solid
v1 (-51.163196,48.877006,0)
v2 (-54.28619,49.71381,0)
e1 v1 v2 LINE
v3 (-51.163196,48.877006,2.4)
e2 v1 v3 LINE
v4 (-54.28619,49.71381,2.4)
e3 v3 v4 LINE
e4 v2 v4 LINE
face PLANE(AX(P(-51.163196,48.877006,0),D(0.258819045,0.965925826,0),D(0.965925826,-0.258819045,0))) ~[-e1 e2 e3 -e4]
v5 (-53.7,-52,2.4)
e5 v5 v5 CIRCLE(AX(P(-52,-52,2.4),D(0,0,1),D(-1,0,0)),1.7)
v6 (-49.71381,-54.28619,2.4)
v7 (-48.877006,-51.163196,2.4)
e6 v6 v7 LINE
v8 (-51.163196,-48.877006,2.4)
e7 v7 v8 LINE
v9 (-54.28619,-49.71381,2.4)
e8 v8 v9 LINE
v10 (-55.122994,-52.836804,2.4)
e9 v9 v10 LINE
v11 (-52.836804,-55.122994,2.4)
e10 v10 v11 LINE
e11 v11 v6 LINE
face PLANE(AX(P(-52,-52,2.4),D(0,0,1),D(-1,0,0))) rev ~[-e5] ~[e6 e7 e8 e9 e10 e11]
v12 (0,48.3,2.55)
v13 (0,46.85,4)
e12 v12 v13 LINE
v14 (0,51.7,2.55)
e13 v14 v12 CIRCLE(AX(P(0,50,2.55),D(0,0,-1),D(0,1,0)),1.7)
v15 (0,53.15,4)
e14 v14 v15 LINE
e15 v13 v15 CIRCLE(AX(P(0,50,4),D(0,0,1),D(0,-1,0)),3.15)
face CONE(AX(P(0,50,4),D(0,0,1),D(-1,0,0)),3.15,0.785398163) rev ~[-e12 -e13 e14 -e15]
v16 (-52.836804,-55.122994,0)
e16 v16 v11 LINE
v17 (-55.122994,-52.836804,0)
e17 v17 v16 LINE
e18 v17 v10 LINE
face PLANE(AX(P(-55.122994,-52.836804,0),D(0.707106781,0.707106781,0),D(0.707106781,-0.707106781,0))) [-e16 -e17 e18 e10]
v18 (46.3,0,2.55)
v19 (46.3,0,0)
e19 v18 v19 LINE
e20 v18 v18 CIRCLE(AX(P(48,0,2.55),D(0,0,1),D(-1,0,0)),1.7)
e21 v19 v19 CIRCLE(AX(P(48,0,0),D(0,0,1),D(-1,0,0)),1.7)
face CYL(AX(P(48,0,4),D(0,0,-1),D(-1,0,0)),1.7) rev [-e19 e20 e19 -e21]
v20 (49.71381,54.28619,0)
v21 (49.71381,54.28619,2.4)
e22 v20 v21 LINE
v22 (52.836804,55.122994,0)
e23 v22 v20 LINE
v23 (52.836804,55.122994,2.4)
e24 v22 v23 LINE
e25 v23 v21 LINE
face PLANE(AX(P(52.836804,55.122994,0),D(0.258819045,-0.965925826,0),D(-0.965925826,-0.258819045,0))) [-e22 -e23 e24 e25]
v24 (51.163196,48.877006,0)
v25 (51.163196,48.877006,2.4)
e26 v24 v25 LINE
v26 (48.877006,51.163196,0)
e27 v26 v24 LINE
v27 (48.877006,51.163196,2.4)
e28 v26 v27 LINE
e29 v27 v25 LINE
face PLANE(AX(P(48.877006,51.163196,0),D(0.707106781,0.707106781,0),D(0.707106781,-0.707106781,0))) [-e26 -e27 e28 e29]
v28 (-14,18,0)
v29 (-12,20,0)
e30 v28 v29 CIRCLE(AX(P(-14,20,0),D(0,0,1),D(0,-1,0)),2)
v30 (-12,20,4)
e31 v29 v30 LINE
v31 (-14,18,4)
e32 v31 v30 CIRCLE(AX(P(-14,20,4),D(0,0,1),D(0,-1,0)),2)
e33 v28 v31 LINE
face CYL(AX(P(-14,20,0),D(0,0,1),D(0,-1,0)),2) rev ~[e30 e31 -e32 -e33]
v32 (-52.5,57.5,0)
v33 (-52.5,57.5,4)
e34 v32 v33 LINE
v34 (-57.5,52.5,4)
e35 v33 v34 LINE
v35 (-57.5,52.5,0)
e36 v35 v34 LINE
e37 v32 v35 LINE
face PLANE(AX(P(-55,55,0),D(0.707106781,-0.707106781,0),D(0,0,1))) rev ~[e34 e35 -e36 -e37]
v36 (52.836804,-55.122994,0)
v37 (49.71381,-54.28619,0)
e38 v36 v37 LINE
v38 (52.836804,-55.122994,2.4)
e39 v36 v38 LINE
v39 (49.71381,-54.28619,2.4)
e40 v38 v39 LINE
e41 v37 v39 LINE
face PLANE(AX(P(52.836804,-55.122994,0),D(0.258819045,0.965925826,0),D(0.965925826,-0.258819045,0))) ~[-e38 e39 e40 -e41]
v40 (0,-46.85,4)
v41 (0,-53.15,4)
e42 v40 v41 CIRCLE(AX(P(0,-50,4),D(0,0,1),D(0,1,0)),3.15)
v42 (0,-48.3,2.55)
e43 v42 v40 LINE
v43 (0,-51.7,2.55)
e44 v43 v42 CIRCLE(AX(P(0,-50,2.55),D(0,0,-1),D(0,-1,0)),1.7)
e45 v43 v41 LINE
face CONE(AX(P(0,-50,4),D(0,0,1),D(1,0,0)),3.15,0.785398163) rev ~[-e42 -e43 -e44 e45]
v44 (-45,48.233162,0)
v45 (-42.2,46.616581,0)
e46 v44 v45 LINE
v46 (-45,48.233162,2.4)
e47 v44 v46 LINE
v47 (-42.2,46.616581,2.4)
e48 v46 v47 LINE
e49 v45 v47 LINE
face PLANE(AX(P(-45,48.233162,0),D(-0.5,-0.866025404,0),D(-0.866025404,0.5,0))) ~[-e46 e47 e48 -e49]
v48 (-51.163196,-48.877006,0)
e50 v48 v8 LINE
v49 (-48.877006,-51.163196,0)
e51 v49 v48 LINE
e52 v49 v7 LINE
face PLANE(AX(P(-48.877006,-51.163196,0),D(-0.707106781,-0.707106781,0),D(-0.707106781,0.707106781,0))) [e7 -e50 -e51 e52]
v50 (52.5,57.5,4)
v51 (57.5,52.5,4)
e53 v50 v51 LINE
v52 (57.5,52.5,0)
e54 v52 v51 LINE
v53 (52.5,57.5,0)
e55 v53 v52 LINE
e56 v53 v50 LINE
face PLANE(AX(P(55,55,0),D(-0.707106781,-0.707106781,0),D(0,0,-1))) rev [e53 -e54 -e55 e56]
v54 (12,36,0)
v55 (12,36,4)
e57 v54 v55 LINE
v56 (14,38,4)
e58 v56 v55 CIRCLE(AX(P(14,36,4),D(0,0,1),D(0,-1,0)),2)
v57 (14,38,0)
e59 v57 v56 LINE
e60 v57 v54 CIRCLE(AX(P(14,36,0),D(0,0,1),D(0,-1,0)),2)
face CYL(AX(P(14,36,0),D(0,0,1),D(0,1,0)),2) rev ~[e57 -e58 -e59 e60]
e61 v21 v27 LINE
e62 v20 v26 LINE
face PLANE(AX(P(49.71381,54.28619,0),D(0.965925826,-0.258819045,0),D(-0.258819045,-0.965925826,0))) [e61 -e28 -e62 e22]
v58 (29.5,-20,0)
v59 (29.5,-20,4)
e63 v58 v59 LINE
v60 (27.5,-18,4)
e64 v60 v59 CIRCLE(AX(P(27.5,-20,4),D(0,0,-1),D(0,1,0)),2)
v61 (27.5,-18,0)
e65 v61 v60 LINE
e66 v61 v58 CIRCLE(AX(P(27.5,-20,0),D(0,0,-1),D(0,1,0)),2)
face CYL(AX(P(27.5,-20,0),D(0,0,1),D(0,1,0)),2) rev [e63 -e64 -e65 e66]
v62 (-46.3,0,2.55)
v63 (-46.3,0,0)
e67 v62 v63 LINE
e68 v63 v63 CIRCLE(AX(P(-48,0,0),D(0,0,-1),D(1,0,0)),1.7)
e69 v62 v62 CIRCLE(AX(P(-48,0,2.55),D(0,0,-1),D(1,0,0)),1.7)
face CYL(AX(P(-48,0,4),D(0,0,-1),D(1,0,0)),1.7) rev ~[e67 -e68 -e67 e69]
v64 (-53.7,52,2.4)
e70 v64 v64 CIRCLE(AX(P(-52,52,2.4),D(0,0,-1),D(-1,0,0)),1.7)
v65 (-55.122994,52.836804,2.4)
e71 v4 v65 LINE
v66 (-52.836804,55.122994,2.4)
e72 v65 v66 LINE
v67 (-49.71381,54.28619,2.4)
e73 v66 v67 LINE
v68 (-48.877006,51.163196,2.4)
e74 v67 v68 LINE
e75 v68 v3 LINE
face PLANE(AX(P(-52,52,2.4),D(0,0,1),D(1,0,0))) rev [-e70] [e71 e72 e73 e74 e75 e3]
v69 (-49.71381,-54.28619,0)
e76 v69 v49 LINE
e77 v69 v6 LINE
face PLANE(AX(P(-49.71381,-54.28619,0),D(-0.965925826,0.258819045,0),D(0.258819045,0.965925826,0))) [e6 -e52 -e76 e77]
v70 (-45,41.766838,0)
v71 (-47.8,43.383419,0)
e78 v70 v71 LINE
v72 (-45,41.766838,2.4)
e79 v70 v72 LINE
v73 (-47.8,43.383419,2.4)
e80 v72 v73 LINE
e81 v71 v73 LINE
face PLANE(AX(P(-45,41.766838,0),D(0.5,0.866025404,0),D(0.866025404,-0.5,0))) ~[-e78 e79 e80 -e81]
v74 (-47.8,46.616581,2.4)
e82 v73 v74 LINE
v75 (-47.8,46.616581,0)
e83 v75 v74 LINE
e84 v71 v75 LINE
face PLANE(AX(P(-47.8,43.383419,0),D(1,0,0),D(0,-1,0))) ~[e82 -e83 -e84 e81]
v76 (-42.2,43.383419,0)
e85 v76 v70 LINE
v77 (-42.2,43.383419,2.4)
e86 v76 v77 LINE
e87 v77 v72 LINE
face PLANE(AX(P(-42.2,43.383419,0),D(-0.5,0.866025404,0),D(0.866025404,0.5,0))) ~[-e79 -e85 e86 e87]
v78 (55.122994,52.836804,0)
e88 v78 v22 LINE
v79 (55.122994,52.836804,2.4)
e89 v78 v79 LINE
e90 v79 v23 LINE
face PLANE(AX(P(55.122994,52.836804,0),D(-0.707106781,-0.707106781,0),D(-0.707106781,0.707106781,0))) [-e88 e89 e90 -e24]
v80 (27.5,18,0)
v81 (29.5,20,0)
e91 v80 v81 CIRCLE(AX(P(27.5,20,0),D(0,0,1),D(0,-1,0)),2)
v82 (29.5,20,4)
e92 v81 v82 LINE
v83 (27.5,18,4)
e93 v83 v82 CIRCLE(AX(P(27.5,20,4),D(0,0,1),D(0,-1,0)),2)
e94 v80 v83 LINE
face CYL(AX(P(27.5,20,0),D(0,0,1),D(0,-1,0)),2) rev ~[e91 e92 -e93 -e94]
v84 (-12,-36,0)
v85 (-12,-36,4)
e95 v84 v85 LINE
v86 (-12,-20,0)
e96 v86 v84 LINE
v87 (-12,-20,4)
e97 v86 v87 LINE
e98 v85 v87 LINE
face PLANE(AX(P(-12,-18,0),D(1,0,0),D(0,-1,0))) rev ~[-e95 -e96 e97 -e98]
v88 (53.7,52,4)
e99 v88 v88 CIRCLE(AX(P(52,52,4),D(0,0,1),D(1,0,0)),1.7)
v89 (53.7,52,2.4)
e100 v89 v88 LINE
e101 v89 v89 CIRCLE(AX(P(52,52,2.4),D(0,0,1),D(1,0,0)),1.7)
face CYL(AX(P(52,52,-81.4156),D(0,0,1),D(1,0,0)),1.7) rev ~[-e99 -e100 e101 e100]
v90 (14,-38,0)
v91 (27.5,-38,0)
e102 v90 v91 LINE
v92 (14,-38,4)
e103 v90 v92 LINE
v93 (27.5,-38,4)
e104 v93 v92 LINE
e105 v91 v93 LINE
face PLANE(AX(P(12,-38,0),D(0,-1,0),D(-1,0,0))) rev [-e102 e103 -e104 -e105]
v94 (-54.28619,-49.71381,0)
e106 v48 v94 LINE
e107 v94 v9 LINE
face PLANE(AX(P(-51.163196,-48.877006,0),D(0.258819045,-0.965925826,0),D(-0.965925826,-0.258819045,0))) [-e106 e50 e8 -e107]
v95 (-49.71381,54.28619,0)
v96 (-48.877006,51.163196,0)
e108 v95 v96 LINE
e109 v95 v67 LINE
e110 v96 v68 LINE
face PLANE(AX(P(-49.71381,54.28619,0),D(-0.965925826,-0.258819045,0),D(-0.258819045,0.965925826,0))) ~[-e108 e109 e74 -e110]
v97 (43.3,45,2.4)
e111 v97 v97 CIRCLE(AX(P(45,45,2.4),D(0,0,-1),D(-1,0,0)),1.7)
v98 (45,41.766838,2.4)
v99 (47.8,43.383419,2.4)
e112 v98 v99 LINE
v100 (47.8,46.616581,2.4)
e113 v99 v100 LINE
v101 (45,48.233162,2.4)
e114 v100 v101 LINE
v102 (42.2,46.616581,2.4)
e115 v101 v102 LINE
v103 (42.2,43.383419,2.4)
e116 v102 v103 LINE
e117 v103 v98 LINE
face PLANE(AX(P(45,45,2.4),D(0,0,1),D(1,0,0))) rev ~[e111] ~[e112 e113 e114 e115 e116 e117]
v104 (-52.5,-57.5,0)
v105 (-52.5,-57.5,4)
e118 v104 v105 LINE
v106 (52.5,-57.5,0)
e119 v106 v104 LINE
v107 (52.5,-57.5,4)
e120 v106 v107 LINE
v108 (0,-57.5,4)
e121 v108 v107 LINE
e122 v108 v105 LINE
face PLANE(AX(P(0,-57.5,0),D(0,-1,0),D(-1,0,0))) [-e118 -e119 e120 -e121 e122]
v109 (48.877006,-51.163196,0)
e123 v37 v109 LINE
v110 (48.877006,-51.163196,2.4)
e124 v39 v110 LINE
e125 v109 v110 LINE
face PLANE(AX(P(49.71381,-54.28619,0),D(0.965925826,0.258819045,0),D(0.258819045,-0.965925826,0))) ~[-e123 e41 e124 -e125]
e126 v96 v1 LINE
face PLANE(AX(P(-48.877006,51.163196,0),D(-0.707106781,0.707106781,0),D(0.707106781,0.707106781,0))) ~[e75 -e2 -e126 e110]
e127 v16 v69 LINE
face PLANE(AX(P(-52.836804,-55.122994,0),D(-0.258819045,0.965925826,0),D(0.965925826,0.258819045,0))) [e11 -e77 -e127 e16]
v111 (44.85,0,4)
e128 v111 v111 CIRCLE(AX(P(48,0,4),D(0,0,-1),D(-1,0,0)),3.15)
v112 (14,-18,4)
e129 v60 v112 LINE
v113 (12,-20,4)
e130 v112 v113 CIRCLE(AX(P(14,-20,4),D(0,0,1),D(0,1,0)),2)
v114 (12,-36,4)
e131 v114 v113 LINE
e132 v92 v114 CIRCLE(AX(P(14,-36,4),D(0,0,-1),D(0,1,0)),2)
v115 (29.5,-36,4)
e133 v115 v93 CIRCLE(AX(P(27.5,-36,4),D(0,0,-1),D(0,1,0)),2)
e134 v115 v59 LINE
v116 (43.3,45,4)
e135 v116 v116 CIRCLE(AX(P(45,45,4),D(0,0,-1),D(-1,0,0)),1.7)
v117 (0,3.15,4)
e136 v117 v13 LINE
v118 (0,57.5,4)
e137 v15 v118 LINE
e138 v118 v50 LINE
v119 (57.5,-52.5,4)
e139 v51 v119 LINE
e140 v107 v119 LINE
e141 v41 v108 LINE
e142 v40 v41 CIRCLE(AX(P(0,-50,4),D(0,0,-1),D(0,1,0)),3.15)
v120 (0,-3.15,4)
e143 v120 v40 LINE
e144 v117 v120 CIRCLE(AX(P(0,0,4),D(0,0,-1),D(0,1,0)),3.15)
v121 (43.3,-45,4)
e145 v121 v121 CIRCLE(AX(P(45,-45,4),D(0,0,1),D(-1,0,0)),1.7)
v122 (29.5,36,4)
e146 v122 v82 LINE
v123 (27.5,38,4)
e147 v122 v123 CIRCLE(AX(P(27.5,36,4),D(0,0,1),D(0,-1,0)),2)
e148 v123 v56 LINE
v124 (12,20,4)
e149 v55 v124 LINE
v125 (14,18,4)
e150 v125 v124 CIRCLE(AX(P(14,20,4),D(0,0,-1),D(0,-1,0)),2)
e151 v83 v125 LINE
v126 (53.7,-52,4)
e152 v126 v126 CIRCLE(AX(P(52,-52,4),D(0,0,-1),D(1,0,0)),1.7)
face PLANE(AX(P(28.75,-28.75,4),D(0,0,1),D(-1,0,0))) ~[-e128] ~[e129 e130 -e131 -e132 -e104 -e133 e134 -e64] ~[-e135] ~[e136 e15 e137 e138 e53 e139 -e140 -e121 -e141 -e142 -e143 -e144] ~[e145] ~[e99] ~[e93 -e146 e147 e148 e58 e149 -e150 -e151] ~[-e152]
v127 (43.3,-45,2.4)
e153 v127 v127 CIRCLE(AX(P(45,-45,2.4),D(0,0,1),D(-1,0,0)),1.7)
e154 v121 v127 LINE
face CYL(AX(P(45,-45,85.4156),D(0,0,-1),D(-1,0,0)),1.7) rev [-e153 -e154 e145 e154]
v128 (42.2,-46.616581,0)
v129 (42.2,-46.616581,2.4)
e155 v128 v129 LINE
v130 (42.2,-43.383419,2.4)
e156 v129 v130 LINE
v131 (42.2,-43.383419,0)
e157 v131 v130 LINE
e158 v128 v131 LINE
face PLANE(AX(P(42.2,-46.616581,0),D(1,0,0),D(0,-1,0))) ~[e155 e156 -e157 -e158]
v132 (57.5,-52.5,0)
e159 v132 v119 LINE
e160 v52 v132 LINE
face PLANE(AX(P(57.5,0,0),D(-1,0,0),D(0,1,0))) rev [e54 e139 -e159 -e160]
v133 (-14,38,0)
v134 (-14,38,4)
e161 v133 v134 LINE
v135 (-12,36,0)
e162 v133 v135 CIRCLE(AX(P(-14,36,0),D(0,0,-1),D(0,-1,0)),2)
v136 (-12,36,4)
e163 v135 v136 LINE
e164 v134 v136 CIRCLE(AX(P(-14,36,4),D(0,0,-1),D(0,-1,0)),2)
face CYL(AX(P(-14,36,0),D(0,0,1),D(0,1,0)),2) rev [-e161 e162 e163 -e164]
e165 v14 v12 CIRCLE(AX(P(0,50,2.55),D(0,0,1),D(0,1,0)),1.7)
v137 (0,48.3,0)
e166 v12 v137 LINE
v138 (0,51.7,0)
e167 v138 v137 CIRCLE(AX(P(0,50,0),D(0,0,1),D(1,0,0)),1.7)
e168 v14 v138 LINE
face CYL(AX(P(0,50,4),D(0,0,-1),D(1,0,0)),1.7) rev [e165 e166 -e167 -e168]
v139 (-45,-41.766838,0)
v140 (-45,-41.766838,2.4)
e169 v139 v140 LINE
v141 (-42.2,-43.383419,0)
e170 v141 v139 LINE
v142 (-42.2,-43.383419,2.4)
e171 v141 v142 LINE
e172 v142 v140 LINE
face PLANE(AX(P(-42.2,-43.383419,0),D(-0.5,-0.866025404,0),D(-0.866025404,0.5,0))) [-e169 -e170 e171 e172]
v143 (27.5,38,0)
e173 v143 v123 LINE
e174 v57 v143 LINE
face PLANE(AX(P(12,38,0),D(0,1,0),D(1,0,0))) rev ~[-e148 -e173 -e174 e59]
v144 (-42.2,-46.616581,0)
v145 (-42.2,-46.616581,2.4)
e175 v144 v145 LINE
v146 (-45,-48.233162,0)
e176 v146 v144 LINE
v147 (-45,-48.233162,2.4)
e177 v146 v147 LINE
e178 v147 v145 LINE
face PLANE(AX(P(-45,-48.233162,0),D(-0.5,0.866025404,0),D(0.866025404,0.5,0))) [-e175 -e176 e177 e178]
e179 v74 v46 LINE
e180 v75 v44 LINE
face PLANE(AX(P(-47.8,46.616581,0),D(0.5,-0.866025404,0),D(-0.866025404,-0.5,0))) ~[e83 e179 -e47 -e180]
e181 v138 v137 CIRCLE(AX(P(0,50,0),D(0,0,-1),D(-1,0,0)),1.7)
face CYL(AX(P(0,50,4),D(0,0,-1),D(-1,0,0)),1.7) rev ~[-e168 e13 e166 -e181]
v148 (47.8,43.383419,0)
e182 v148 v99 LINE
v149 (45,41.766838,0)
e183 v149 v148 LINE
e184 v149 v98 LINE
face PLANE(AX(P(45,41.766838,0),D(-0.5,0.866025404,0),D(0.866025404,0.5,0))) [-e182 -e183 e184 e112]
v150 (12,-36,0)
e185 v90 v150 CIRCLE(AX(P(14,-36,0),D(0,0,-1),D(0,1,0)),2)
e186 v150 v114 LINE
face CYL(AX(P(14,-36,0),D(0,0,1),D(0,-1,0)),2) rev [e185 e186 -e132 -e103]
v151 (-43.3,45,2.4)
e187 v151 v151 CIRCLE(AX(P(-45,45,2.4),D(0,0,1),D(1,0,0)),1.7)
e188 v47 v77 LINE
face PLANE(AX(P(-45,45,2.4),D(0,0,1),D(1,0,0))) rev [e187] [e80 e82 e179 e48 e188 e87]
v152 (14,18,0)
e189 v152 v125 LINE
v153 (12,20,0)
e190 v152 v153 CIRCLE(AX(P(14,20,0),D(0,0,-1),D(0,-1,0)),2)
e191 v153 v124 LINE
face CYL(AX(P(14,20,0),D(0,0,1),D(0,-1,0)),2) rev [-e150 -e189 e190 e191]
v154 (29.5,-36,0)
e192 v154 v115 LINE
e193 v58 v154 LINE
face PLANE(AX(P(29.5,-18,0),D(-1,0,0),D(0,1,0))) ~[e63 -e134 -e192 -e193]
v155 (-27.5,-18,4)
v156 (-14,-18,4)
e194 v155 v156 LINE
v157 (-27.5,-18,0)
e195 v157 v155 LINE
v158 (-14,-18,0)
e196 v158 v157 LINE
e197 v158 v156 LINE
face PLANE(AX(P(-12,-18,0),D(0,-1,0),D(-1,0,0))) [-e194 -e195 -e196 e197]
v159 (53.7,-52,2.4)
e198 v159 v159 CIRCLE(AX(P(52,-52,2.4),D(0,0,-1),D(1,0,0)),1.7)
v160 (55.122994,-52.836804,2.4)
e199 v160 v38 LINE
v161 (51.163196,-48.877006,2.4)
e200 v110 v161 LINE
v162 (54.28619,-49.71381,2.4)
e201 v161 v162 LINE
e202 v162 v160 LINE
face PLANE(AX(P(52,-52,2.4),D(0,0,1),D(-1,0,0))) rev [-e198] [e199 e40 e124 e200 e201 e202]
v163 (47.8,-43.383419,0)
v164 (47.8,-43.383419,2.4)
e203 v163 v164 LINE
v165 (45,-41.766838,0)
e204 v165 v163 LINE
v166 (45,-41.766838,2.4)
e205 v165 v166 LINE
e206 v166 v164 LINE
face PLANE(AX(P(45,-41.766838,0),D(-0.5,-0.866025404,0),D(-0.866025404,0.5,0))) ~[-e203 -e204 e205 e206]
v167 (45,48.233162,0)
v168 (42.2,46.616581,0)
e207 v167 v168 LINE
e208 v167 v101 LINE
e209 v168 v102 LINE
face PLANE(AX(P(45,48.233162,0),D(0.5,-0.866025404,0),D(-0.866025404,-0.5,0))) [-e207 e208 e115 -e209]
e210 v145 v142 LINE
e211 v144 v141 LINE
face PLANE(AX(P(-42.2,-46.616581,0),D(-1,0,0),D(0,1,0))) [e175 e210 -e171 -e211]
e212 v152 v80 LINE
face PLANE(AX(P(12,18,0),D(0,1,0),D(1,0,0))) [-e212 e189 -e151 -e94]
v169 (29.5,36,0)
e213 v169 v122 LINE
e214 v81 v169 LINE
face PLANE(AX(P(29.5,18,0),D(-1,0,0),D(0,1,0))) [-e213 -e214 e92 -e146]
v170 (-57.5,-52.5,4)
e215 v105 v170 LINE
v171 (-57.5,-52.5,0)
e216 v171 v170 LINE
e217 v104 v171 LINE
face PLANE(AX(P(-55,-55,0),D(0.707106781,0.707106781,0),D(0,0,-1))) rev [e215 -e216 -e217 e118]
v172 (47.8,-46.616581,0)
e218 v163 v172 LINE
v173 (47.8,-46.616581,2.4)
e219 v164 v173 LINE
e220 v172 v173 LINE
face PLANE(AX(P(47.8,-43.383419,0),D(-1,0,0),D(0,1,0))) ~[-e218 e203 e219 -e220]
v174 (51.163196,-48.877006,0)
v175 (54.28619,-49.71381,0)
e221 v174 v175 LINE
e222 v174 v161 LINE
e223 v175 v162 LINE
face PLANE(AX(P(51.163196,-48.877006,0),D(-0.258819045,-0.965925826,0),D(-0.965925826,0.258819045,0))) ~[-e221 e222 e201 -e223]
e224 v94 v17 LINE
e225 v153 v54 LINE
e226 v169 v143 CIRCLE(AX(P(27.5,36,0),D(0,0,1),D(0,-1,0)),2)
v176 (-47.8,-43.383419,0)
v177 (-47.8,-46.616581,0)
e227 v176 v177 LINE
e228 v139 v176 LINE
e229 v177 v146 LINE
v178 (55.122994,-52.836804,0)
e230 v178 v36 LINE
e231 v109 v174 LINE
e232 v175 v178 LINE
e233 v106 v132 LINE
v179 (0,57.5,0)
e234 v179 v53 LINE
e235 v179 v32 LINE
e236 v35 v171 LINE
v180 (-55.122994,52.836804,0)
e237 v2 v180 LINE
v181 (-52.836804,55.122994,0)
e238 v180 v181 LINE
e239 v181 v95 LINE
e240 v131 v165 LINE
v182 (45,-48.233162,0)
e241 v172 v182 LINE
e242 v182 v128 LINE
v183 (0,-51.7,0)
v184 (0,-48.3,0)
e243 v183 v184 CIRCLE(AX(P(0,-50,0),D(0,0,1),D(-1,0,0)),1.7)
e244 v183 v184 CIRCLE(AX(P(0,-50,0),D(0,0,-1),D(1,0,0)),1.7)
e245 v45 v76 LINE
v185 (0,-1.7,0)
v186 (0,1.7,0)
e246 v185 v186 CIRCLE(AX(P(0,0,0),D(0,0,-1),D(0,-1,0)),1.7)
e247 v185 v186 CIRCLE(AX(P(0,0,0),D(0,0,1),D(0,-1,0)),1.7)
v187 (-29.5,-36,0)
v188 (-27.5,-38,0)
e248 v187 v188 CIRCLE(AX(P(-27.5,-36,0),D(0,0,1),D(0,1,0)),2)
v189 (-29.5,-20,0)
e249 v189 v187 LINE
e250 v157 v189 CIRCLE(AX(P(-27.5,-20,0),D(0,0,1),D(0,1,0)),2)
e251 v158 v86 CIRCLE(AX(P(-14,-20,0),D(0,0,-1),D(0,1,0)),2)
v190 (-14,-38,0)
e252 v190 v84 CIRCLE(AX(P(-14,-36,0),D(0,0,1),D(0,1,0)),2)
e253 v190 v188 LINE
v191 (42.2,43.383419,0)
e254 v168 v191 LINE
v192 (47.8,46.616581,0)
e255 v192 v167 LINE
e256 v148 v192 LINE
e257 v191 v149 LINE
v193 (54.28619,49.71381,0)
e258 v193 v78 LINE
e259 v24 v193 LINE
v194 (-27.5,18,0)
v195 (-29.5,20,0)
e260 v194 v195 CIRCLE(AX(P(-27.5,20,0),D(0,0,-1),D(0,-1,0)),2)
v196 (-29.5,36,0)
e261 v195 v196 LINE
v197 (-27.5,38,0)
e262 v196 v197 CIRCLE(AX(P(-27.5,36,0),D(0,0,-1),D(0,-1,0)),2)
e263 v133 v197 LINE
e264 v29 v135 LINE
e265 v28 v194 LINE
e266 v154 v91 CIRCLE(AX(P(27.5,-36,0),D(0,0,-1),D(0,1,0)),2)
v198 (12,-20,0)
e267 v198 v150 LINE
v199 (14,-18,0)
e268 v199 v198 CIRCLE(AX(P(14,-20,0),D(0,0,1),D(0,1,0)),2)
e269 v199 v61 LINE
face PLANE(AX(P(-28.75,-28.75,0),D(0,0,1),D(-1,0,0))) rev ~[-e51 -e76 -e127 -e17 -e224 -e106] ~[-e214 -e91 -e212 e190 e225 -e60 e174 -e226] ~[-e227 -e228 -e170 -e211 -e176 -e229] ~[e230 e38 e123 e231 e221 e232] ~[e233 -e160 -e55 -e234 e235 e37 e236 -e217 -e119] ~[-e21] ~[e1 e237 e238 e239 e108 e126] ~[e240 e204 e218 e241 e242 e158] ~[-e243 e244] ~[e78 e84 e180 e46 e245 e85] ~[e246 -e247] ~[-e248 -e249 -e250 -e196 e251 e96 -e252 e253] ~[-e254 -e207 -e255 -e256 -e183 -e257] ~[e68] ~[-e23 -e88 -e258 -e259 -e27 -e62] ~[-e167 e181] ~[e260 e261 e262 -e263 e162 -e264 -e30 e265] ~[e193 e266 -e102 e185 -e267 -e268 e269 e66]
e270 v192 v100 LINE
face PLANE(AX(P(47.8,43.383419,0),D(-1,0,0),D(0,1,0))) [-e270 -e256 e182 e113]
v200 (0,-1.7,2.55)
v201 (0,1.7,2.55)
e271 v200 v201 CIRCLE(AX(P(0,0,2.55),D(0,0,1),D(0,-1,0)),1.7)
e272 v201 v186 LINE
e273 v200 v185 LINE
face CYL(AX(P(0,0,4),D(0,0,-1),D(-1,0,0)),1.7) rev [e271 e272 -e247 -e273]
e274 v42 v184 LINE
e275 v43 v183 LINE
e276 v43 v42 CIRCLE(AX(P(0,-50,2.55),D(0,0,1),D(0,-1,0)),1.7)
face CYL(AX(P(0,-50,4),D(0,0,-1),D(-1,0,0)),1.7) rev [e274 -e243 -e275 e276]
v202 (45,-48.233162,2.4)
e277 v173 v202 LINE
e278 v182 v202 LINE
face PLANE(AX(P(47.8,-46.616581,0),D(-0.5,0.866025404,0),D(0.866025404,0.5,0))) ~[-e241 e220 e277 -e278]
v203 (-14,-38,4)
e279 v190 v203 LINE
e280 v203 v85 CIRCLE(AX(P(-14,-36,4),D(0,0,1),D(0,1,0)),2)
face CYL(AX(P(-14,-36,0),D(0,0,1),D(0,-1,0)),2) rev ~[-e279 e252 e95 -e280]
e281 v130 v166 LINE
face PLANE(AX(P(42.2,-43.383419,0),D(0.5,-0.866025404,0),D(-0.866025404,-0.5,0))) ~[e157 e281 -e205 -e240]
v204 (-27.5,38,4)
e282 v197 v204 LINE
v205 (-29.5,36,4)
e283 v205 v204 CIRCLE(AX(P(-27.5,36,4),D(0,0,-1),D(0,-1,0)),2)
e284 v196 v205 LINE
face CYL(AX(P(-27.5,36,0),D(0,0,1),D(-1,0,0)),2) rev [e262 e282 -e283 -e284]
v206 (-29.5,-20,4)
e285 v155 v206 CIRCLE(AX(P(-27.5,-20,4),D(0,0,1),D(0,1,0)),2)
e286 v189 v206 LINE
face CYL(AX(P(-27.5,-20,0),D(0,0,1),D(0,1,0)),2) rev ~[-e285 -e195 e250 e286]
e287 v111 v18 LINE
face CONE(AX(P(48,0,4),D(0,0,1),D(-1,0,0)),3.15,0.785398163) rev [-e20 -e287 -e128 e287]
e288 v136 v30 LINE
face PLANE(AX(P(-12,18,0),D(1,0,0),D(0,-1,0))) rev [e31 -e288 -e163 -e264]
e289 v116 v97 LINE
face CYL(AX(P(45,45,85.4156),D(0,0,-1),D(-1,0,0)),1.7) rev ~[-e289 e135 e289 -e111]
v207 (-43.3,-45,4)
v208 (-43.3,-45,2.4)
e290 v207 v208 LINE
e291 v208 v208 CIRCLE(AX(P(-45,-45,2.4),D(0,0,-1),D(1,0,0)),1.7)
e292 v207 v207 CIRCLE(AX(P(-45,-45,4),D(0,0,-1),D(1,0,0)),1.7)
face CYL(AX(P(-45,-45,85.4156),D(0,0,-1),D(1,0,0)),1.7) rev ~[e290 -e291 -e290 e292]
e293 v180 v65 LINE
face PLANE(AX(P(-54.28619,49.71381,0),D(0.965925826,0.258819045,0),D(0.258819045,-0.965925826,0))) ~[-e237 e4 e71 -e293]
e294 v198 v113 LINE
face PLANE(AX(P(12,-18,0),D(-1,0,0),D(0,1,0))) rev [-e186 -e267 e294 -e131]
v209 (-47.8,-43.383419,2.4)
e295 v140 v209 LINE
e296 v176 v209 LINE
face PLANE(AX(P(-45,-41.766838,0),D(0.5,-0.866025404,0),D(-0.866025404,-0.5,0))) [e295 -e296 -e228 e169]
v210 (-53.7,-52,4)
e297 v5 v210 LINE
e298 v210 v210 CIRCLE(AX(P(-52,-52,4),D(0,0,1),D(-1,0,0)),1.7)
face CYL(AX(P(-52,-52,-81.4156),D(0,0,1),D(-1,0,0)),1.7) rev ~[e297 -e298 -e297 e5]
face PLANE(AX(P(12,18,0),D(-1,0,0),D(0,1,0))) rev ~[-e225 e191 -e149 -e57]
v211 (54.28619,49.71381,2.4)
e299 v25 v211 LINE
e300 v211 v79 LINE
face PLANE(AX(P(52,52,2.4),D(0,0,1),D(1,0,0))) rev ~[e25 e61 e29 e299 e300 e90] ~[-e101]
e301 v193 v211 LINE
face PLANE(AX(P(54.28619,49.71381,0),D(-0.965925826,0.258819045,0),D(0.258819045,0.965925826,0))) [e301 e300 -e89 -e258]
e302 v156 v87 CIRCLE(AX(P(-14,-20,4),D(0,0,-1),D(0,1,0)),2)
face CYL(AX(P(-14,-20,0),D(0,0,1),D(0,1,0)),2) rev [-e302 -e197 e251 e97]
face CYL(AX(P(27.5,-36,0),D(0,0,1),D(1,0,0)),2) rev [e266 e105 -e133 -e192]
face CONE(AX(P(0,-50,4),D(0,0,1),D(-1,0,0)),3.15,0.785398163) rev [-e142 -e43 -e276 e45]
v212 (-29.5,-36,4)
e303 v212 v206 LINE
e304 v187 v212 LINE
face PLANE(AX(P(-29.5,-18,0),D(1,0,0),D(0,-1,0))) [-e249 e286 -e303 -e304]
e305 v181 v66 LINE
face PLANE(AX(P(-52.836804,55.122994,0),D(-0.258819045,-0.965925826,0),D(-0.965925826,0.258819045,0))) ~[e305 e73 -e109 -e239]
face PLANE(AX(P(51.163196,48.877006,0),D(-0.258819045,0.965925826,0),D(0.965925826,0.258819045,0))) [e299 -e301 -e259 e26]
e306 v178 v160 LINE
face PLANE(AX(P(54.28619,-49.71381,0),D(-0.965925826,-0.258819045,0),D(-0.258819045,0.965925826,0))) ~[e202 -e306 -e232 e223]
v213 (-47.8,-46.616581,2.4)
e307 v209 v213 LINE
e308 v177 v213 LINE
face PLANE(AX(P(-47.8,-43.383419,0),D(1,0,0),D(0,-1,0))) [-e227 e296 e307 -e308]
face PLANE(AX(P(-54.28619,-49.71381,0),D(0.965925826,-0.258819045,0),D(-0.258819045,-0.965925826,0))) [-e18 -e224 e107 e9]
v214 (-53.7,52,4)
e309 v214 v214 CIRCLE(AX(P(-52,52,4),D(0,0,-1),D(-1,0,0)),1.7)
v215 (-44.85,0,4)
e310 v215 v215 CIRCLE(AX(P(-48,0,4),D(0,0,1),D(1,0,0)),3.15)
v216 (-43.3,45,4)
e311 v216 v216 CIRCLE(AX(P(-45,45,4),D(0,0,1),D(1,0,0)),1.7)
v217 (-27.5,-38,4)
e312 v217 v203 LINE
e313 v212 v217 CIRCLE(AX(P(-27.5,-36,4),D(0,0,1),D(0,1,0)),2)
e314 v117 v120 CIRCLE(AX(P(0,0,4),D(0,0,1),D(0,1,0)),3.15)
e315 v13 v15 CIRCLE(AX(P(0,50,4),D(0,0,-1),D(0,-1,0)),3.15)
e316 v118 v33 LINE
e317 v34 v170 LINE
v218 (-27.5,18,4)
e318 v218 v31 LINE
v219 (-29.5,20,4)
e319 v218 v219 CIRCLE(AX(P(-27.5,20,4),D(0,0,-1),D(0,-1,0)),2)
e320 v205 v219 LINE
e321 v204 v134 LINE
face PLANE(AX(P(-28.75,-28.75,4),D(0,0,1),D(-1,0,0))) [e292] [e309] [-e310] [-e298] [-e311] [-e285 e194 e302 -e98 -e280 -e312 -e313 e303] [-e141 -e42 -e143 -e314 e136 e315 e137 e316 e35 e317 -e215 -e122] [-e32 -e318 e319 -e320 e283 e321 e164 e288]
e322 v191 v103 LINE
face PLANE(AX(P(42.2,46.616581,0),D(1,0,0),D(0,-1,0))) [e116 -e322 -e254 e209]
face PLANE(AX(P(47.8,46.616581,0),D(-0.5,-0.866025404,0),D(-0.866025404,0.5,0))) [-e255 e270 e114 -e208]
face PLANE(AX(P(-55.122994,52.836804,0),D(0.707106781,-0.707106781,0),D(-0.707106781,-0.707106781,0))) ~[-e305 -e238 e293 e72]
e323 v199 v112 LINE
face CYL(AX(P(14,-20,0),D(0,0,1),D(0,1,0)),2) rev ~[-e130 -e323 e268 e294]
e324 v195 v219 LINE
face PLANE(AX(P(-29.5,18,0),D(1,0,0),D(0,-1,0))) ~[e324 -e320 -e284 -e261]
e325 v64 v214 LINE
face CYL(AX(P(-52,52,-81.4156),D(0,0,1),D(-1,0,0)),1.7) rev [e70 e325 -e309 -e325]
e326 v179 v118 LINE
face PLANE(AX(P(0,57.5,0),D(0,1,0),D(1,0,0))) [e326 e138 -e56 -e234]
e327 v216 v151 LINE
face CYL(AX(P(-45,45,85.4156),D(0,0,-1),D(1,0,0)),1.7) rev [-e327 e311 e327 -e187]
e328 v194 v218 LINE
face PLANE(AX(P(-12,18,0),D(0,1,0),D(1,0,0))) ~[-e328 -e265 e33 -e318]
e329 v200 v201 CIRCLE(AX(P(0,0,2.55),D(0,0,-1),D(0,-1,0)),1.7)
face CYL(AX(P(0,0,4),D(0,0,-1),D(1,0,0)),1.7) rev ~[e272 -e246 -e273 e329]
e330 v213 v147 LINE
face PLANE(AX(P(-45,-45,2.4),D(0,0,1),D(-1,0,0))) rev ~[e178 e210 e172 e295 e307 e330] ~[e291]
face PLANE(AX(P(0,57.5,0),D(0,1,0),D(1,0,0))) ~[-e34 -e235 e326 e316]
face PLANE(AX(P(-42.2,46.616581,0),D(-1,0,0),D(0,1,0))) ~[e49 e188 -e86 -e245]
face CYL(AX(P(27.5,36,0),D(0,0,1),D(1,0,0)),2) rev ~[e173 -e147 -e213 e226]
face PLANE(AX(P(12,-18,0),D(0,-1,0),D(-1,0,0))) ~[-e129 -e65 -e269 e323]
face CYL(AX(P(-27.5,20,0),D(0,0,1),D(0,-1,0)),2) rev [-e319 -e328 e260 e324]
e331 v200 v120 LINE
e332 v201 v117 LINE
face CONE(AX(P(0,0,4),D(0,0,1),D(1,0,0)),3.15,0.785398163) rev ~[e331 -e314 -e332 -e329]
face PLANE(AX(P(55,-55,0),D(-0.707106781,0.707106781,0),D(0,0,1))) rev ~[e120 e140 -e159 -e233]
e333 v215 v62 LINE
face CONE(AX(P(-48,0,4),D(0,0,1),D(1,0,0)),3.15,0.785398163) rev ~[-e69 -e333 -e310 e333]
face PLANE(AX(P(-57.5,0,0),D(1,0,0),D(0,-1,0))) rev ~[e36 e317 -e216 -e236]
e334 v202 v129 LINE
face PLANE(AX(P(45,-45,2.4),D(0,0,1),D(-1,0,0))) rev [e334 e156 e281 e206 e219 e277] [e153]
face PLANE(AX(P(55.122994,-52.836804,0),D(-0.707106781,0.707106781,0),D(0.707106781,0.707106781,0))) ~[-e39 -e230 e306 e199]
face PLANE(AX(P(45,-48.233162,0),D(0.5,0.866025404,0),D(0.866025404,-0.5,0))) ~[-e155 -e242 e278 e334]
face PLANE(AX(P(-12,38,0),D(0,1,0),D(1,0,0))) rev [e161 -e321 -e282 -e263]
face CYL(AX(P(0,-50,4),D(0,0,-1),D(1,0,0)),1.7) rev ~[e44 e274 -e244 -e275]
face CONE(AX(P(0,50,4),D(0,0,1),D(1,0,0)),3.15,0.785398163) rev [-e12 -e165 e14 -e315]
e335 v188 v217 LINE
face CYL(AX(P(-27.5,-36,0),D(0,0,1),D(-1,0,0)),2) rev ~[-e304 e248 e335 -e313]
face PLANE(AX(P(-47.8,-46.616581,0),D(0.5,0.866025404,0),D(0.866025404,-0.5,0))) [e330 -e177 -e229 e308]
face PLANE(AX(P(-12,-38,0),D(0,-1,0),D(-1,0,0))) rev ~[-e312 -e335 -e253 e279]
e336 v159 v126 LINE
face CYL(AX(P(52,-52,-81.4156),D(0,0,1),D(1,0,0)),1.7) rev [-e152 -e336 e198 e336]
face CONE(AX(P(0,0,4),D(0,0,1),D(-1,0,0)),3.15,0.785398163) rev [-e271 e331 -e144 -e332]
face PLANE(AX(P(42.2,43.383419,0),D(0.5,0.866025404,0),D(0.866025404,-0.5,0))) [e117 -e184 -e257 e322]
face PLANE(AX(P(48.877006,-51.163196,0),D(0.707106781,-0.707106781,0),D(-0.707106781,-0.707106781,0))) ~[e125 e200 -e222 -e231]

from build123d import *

# Parameters (mm, degrees)
SKETCH2_W                                       = 57.5
SKETCH2_H                                       = 57.5
BOSS_EXTRUDE1_DEPTH                             = 4
CUT_EXTRUDE4_DEPTH                              = 2.4
M3_CLEARANCE_HOLE1_D                            = 3.4
CSK_FOR_M3_FLAT_HEAD_MACHINE_SCREW1_D           = 3.4
CSK_FOR_M3_FLAT_HEAD_MACHINE_SCREW1_CSINK_D     = 6.3
CSK_FOR_M3_FLAT_HEAD_MACHINE_SCREW1_CSINK_ANGLE = 90
SKETCH11_W                                      = 17.5
SKETCH11_H                                      = 20
CUT_EXTRUDE3_DEPTH                              = 82.415600471
FILLET1_R                                       = 2
CUT_EXTRUDE6_DEPTH                              = 2.4
M3_CLEARANCE_HOLE2_D                            = 3.4
CHAMFER1_SIZE                                   = 5


with BuildPart() as part:
    # Sketch2 → Boss-Extrude1 (new body)
    with BuildSketch(Plane.XY):
        with Locations((28.75, 28.75)):
            Rectangle(SKETCH2_W, SKETCH2_H)
    extrude(amount=BOSS_EXTRUDE1_DEPTH)

    # Sketch12 → Cut-Extrude4 (cut)
    with BuildSketch(Plane.XY):
        Polygon((45, 41.766838493), (47.8, 43.383419246), (47.8, 46.616580754), (45, 48.233161507), (42.2, 46.616580754), (42.2, 43.383419246), align=None)
    extrude(amount=CUT_EXTRUDE4_DEPTH, mode=Mode.SUBTRACT)

    # M3 Clearance Hole1 (through all)
    with Locations(Plane.XY.offset(4)):
        with Locations((45, 45), (-45, 45), (-45, -45), (45, -45)):
            Hole(M3_CLEARANCE_HOLE1_D / 2)

    # CSK for M3 Flat Head Machine Screw1 (through all)
    with Locations(Plane.XY.offset(4)):
        with Locations((0, 50), (0, 0), (48, 0)):
            CounterSinkHole(CSK_FOR_M3_FLAT_HEAD_MACHINE_SCREW1_D / 2, CSK_FOR_M3_FLAT_HEAD_MACHINE_SCREW1_CSINK_D / 2, counter_sink_angle=CSK_FOR_M3_FLAT_HEAD_MACHINE_SCREW1_CSINK_ANGLE)

    # Sketch11 → Cut-Extrude3 (cut, through all)
    with BuildSketch(Plane.XY):
        with Locations((20.75, 28)):
            Rectangle(SKETCH11_W, SKETCH11_H)
    extrude(amount=CUT_EXTRUDE3_DEPTH, mode=Mode.SUBTRACT)

    # Fillet1
    fillet1_edges = [part.edges().sort_by_distance(p)[0] for p in [
        (29.5, 38, 2),
        (12, 38, 2),
        (12, 18, 2),
        (29.5, 18, 2),
    ]]
    fillet(fillet1_edges, radius=FILLET1_R)

    # Sketch15 → Cut-Extrude6 (cut)
    with BuildSketch(Plane.XY):
        Polygon((54.286190427, 49.713809573), (55.122994201, 52.836803774), (52.836803774, 55.122994201), (49.713809573, 54.286190427), (48.877005799, 51.163196226), (51.163196226, 48.877005799), align=None)
    extrude(amount=CUT_EXTRUDE6_DEPTH, mode=Mode.SUBTRACT)

    # M3 Clearance Hole2 (through all)
    with Locations(Plane(origin=(0, 0, 0), x_dir=(-1, 0, 0), z_dir=(0, 0, -1))):
        with Locations((-52, 52)):
            Hole(M3_CLEARANCE_HOLE2_D / 2)

    # Chamfer1
    chamfer1_edges = [part.edges().sort_by_distance(p)[0] for p in [
        (57.5, 57.5, 2),
    ]]
    chamfer(chamfer1_edges, length=CHAMFER1_SIZE)

    # Mirror1: part across plane


with BuildPart() as part_1:
    add(part.part)
    add(part.part.mirror(Plane(origin=(0, 0, 0), x_dir=(0, 0, 1), z_dir=(0, -1, 0))))

    # Mirror2: part across plane


with BuildPart() as part_2:
    add(part_1.part)
    add(part_1.part.mirror(Plane(origin=(0, 0, 0), x_dir=(0, 0, 1), z_dir=(1, 0, 0))))


solid = part_2.part
